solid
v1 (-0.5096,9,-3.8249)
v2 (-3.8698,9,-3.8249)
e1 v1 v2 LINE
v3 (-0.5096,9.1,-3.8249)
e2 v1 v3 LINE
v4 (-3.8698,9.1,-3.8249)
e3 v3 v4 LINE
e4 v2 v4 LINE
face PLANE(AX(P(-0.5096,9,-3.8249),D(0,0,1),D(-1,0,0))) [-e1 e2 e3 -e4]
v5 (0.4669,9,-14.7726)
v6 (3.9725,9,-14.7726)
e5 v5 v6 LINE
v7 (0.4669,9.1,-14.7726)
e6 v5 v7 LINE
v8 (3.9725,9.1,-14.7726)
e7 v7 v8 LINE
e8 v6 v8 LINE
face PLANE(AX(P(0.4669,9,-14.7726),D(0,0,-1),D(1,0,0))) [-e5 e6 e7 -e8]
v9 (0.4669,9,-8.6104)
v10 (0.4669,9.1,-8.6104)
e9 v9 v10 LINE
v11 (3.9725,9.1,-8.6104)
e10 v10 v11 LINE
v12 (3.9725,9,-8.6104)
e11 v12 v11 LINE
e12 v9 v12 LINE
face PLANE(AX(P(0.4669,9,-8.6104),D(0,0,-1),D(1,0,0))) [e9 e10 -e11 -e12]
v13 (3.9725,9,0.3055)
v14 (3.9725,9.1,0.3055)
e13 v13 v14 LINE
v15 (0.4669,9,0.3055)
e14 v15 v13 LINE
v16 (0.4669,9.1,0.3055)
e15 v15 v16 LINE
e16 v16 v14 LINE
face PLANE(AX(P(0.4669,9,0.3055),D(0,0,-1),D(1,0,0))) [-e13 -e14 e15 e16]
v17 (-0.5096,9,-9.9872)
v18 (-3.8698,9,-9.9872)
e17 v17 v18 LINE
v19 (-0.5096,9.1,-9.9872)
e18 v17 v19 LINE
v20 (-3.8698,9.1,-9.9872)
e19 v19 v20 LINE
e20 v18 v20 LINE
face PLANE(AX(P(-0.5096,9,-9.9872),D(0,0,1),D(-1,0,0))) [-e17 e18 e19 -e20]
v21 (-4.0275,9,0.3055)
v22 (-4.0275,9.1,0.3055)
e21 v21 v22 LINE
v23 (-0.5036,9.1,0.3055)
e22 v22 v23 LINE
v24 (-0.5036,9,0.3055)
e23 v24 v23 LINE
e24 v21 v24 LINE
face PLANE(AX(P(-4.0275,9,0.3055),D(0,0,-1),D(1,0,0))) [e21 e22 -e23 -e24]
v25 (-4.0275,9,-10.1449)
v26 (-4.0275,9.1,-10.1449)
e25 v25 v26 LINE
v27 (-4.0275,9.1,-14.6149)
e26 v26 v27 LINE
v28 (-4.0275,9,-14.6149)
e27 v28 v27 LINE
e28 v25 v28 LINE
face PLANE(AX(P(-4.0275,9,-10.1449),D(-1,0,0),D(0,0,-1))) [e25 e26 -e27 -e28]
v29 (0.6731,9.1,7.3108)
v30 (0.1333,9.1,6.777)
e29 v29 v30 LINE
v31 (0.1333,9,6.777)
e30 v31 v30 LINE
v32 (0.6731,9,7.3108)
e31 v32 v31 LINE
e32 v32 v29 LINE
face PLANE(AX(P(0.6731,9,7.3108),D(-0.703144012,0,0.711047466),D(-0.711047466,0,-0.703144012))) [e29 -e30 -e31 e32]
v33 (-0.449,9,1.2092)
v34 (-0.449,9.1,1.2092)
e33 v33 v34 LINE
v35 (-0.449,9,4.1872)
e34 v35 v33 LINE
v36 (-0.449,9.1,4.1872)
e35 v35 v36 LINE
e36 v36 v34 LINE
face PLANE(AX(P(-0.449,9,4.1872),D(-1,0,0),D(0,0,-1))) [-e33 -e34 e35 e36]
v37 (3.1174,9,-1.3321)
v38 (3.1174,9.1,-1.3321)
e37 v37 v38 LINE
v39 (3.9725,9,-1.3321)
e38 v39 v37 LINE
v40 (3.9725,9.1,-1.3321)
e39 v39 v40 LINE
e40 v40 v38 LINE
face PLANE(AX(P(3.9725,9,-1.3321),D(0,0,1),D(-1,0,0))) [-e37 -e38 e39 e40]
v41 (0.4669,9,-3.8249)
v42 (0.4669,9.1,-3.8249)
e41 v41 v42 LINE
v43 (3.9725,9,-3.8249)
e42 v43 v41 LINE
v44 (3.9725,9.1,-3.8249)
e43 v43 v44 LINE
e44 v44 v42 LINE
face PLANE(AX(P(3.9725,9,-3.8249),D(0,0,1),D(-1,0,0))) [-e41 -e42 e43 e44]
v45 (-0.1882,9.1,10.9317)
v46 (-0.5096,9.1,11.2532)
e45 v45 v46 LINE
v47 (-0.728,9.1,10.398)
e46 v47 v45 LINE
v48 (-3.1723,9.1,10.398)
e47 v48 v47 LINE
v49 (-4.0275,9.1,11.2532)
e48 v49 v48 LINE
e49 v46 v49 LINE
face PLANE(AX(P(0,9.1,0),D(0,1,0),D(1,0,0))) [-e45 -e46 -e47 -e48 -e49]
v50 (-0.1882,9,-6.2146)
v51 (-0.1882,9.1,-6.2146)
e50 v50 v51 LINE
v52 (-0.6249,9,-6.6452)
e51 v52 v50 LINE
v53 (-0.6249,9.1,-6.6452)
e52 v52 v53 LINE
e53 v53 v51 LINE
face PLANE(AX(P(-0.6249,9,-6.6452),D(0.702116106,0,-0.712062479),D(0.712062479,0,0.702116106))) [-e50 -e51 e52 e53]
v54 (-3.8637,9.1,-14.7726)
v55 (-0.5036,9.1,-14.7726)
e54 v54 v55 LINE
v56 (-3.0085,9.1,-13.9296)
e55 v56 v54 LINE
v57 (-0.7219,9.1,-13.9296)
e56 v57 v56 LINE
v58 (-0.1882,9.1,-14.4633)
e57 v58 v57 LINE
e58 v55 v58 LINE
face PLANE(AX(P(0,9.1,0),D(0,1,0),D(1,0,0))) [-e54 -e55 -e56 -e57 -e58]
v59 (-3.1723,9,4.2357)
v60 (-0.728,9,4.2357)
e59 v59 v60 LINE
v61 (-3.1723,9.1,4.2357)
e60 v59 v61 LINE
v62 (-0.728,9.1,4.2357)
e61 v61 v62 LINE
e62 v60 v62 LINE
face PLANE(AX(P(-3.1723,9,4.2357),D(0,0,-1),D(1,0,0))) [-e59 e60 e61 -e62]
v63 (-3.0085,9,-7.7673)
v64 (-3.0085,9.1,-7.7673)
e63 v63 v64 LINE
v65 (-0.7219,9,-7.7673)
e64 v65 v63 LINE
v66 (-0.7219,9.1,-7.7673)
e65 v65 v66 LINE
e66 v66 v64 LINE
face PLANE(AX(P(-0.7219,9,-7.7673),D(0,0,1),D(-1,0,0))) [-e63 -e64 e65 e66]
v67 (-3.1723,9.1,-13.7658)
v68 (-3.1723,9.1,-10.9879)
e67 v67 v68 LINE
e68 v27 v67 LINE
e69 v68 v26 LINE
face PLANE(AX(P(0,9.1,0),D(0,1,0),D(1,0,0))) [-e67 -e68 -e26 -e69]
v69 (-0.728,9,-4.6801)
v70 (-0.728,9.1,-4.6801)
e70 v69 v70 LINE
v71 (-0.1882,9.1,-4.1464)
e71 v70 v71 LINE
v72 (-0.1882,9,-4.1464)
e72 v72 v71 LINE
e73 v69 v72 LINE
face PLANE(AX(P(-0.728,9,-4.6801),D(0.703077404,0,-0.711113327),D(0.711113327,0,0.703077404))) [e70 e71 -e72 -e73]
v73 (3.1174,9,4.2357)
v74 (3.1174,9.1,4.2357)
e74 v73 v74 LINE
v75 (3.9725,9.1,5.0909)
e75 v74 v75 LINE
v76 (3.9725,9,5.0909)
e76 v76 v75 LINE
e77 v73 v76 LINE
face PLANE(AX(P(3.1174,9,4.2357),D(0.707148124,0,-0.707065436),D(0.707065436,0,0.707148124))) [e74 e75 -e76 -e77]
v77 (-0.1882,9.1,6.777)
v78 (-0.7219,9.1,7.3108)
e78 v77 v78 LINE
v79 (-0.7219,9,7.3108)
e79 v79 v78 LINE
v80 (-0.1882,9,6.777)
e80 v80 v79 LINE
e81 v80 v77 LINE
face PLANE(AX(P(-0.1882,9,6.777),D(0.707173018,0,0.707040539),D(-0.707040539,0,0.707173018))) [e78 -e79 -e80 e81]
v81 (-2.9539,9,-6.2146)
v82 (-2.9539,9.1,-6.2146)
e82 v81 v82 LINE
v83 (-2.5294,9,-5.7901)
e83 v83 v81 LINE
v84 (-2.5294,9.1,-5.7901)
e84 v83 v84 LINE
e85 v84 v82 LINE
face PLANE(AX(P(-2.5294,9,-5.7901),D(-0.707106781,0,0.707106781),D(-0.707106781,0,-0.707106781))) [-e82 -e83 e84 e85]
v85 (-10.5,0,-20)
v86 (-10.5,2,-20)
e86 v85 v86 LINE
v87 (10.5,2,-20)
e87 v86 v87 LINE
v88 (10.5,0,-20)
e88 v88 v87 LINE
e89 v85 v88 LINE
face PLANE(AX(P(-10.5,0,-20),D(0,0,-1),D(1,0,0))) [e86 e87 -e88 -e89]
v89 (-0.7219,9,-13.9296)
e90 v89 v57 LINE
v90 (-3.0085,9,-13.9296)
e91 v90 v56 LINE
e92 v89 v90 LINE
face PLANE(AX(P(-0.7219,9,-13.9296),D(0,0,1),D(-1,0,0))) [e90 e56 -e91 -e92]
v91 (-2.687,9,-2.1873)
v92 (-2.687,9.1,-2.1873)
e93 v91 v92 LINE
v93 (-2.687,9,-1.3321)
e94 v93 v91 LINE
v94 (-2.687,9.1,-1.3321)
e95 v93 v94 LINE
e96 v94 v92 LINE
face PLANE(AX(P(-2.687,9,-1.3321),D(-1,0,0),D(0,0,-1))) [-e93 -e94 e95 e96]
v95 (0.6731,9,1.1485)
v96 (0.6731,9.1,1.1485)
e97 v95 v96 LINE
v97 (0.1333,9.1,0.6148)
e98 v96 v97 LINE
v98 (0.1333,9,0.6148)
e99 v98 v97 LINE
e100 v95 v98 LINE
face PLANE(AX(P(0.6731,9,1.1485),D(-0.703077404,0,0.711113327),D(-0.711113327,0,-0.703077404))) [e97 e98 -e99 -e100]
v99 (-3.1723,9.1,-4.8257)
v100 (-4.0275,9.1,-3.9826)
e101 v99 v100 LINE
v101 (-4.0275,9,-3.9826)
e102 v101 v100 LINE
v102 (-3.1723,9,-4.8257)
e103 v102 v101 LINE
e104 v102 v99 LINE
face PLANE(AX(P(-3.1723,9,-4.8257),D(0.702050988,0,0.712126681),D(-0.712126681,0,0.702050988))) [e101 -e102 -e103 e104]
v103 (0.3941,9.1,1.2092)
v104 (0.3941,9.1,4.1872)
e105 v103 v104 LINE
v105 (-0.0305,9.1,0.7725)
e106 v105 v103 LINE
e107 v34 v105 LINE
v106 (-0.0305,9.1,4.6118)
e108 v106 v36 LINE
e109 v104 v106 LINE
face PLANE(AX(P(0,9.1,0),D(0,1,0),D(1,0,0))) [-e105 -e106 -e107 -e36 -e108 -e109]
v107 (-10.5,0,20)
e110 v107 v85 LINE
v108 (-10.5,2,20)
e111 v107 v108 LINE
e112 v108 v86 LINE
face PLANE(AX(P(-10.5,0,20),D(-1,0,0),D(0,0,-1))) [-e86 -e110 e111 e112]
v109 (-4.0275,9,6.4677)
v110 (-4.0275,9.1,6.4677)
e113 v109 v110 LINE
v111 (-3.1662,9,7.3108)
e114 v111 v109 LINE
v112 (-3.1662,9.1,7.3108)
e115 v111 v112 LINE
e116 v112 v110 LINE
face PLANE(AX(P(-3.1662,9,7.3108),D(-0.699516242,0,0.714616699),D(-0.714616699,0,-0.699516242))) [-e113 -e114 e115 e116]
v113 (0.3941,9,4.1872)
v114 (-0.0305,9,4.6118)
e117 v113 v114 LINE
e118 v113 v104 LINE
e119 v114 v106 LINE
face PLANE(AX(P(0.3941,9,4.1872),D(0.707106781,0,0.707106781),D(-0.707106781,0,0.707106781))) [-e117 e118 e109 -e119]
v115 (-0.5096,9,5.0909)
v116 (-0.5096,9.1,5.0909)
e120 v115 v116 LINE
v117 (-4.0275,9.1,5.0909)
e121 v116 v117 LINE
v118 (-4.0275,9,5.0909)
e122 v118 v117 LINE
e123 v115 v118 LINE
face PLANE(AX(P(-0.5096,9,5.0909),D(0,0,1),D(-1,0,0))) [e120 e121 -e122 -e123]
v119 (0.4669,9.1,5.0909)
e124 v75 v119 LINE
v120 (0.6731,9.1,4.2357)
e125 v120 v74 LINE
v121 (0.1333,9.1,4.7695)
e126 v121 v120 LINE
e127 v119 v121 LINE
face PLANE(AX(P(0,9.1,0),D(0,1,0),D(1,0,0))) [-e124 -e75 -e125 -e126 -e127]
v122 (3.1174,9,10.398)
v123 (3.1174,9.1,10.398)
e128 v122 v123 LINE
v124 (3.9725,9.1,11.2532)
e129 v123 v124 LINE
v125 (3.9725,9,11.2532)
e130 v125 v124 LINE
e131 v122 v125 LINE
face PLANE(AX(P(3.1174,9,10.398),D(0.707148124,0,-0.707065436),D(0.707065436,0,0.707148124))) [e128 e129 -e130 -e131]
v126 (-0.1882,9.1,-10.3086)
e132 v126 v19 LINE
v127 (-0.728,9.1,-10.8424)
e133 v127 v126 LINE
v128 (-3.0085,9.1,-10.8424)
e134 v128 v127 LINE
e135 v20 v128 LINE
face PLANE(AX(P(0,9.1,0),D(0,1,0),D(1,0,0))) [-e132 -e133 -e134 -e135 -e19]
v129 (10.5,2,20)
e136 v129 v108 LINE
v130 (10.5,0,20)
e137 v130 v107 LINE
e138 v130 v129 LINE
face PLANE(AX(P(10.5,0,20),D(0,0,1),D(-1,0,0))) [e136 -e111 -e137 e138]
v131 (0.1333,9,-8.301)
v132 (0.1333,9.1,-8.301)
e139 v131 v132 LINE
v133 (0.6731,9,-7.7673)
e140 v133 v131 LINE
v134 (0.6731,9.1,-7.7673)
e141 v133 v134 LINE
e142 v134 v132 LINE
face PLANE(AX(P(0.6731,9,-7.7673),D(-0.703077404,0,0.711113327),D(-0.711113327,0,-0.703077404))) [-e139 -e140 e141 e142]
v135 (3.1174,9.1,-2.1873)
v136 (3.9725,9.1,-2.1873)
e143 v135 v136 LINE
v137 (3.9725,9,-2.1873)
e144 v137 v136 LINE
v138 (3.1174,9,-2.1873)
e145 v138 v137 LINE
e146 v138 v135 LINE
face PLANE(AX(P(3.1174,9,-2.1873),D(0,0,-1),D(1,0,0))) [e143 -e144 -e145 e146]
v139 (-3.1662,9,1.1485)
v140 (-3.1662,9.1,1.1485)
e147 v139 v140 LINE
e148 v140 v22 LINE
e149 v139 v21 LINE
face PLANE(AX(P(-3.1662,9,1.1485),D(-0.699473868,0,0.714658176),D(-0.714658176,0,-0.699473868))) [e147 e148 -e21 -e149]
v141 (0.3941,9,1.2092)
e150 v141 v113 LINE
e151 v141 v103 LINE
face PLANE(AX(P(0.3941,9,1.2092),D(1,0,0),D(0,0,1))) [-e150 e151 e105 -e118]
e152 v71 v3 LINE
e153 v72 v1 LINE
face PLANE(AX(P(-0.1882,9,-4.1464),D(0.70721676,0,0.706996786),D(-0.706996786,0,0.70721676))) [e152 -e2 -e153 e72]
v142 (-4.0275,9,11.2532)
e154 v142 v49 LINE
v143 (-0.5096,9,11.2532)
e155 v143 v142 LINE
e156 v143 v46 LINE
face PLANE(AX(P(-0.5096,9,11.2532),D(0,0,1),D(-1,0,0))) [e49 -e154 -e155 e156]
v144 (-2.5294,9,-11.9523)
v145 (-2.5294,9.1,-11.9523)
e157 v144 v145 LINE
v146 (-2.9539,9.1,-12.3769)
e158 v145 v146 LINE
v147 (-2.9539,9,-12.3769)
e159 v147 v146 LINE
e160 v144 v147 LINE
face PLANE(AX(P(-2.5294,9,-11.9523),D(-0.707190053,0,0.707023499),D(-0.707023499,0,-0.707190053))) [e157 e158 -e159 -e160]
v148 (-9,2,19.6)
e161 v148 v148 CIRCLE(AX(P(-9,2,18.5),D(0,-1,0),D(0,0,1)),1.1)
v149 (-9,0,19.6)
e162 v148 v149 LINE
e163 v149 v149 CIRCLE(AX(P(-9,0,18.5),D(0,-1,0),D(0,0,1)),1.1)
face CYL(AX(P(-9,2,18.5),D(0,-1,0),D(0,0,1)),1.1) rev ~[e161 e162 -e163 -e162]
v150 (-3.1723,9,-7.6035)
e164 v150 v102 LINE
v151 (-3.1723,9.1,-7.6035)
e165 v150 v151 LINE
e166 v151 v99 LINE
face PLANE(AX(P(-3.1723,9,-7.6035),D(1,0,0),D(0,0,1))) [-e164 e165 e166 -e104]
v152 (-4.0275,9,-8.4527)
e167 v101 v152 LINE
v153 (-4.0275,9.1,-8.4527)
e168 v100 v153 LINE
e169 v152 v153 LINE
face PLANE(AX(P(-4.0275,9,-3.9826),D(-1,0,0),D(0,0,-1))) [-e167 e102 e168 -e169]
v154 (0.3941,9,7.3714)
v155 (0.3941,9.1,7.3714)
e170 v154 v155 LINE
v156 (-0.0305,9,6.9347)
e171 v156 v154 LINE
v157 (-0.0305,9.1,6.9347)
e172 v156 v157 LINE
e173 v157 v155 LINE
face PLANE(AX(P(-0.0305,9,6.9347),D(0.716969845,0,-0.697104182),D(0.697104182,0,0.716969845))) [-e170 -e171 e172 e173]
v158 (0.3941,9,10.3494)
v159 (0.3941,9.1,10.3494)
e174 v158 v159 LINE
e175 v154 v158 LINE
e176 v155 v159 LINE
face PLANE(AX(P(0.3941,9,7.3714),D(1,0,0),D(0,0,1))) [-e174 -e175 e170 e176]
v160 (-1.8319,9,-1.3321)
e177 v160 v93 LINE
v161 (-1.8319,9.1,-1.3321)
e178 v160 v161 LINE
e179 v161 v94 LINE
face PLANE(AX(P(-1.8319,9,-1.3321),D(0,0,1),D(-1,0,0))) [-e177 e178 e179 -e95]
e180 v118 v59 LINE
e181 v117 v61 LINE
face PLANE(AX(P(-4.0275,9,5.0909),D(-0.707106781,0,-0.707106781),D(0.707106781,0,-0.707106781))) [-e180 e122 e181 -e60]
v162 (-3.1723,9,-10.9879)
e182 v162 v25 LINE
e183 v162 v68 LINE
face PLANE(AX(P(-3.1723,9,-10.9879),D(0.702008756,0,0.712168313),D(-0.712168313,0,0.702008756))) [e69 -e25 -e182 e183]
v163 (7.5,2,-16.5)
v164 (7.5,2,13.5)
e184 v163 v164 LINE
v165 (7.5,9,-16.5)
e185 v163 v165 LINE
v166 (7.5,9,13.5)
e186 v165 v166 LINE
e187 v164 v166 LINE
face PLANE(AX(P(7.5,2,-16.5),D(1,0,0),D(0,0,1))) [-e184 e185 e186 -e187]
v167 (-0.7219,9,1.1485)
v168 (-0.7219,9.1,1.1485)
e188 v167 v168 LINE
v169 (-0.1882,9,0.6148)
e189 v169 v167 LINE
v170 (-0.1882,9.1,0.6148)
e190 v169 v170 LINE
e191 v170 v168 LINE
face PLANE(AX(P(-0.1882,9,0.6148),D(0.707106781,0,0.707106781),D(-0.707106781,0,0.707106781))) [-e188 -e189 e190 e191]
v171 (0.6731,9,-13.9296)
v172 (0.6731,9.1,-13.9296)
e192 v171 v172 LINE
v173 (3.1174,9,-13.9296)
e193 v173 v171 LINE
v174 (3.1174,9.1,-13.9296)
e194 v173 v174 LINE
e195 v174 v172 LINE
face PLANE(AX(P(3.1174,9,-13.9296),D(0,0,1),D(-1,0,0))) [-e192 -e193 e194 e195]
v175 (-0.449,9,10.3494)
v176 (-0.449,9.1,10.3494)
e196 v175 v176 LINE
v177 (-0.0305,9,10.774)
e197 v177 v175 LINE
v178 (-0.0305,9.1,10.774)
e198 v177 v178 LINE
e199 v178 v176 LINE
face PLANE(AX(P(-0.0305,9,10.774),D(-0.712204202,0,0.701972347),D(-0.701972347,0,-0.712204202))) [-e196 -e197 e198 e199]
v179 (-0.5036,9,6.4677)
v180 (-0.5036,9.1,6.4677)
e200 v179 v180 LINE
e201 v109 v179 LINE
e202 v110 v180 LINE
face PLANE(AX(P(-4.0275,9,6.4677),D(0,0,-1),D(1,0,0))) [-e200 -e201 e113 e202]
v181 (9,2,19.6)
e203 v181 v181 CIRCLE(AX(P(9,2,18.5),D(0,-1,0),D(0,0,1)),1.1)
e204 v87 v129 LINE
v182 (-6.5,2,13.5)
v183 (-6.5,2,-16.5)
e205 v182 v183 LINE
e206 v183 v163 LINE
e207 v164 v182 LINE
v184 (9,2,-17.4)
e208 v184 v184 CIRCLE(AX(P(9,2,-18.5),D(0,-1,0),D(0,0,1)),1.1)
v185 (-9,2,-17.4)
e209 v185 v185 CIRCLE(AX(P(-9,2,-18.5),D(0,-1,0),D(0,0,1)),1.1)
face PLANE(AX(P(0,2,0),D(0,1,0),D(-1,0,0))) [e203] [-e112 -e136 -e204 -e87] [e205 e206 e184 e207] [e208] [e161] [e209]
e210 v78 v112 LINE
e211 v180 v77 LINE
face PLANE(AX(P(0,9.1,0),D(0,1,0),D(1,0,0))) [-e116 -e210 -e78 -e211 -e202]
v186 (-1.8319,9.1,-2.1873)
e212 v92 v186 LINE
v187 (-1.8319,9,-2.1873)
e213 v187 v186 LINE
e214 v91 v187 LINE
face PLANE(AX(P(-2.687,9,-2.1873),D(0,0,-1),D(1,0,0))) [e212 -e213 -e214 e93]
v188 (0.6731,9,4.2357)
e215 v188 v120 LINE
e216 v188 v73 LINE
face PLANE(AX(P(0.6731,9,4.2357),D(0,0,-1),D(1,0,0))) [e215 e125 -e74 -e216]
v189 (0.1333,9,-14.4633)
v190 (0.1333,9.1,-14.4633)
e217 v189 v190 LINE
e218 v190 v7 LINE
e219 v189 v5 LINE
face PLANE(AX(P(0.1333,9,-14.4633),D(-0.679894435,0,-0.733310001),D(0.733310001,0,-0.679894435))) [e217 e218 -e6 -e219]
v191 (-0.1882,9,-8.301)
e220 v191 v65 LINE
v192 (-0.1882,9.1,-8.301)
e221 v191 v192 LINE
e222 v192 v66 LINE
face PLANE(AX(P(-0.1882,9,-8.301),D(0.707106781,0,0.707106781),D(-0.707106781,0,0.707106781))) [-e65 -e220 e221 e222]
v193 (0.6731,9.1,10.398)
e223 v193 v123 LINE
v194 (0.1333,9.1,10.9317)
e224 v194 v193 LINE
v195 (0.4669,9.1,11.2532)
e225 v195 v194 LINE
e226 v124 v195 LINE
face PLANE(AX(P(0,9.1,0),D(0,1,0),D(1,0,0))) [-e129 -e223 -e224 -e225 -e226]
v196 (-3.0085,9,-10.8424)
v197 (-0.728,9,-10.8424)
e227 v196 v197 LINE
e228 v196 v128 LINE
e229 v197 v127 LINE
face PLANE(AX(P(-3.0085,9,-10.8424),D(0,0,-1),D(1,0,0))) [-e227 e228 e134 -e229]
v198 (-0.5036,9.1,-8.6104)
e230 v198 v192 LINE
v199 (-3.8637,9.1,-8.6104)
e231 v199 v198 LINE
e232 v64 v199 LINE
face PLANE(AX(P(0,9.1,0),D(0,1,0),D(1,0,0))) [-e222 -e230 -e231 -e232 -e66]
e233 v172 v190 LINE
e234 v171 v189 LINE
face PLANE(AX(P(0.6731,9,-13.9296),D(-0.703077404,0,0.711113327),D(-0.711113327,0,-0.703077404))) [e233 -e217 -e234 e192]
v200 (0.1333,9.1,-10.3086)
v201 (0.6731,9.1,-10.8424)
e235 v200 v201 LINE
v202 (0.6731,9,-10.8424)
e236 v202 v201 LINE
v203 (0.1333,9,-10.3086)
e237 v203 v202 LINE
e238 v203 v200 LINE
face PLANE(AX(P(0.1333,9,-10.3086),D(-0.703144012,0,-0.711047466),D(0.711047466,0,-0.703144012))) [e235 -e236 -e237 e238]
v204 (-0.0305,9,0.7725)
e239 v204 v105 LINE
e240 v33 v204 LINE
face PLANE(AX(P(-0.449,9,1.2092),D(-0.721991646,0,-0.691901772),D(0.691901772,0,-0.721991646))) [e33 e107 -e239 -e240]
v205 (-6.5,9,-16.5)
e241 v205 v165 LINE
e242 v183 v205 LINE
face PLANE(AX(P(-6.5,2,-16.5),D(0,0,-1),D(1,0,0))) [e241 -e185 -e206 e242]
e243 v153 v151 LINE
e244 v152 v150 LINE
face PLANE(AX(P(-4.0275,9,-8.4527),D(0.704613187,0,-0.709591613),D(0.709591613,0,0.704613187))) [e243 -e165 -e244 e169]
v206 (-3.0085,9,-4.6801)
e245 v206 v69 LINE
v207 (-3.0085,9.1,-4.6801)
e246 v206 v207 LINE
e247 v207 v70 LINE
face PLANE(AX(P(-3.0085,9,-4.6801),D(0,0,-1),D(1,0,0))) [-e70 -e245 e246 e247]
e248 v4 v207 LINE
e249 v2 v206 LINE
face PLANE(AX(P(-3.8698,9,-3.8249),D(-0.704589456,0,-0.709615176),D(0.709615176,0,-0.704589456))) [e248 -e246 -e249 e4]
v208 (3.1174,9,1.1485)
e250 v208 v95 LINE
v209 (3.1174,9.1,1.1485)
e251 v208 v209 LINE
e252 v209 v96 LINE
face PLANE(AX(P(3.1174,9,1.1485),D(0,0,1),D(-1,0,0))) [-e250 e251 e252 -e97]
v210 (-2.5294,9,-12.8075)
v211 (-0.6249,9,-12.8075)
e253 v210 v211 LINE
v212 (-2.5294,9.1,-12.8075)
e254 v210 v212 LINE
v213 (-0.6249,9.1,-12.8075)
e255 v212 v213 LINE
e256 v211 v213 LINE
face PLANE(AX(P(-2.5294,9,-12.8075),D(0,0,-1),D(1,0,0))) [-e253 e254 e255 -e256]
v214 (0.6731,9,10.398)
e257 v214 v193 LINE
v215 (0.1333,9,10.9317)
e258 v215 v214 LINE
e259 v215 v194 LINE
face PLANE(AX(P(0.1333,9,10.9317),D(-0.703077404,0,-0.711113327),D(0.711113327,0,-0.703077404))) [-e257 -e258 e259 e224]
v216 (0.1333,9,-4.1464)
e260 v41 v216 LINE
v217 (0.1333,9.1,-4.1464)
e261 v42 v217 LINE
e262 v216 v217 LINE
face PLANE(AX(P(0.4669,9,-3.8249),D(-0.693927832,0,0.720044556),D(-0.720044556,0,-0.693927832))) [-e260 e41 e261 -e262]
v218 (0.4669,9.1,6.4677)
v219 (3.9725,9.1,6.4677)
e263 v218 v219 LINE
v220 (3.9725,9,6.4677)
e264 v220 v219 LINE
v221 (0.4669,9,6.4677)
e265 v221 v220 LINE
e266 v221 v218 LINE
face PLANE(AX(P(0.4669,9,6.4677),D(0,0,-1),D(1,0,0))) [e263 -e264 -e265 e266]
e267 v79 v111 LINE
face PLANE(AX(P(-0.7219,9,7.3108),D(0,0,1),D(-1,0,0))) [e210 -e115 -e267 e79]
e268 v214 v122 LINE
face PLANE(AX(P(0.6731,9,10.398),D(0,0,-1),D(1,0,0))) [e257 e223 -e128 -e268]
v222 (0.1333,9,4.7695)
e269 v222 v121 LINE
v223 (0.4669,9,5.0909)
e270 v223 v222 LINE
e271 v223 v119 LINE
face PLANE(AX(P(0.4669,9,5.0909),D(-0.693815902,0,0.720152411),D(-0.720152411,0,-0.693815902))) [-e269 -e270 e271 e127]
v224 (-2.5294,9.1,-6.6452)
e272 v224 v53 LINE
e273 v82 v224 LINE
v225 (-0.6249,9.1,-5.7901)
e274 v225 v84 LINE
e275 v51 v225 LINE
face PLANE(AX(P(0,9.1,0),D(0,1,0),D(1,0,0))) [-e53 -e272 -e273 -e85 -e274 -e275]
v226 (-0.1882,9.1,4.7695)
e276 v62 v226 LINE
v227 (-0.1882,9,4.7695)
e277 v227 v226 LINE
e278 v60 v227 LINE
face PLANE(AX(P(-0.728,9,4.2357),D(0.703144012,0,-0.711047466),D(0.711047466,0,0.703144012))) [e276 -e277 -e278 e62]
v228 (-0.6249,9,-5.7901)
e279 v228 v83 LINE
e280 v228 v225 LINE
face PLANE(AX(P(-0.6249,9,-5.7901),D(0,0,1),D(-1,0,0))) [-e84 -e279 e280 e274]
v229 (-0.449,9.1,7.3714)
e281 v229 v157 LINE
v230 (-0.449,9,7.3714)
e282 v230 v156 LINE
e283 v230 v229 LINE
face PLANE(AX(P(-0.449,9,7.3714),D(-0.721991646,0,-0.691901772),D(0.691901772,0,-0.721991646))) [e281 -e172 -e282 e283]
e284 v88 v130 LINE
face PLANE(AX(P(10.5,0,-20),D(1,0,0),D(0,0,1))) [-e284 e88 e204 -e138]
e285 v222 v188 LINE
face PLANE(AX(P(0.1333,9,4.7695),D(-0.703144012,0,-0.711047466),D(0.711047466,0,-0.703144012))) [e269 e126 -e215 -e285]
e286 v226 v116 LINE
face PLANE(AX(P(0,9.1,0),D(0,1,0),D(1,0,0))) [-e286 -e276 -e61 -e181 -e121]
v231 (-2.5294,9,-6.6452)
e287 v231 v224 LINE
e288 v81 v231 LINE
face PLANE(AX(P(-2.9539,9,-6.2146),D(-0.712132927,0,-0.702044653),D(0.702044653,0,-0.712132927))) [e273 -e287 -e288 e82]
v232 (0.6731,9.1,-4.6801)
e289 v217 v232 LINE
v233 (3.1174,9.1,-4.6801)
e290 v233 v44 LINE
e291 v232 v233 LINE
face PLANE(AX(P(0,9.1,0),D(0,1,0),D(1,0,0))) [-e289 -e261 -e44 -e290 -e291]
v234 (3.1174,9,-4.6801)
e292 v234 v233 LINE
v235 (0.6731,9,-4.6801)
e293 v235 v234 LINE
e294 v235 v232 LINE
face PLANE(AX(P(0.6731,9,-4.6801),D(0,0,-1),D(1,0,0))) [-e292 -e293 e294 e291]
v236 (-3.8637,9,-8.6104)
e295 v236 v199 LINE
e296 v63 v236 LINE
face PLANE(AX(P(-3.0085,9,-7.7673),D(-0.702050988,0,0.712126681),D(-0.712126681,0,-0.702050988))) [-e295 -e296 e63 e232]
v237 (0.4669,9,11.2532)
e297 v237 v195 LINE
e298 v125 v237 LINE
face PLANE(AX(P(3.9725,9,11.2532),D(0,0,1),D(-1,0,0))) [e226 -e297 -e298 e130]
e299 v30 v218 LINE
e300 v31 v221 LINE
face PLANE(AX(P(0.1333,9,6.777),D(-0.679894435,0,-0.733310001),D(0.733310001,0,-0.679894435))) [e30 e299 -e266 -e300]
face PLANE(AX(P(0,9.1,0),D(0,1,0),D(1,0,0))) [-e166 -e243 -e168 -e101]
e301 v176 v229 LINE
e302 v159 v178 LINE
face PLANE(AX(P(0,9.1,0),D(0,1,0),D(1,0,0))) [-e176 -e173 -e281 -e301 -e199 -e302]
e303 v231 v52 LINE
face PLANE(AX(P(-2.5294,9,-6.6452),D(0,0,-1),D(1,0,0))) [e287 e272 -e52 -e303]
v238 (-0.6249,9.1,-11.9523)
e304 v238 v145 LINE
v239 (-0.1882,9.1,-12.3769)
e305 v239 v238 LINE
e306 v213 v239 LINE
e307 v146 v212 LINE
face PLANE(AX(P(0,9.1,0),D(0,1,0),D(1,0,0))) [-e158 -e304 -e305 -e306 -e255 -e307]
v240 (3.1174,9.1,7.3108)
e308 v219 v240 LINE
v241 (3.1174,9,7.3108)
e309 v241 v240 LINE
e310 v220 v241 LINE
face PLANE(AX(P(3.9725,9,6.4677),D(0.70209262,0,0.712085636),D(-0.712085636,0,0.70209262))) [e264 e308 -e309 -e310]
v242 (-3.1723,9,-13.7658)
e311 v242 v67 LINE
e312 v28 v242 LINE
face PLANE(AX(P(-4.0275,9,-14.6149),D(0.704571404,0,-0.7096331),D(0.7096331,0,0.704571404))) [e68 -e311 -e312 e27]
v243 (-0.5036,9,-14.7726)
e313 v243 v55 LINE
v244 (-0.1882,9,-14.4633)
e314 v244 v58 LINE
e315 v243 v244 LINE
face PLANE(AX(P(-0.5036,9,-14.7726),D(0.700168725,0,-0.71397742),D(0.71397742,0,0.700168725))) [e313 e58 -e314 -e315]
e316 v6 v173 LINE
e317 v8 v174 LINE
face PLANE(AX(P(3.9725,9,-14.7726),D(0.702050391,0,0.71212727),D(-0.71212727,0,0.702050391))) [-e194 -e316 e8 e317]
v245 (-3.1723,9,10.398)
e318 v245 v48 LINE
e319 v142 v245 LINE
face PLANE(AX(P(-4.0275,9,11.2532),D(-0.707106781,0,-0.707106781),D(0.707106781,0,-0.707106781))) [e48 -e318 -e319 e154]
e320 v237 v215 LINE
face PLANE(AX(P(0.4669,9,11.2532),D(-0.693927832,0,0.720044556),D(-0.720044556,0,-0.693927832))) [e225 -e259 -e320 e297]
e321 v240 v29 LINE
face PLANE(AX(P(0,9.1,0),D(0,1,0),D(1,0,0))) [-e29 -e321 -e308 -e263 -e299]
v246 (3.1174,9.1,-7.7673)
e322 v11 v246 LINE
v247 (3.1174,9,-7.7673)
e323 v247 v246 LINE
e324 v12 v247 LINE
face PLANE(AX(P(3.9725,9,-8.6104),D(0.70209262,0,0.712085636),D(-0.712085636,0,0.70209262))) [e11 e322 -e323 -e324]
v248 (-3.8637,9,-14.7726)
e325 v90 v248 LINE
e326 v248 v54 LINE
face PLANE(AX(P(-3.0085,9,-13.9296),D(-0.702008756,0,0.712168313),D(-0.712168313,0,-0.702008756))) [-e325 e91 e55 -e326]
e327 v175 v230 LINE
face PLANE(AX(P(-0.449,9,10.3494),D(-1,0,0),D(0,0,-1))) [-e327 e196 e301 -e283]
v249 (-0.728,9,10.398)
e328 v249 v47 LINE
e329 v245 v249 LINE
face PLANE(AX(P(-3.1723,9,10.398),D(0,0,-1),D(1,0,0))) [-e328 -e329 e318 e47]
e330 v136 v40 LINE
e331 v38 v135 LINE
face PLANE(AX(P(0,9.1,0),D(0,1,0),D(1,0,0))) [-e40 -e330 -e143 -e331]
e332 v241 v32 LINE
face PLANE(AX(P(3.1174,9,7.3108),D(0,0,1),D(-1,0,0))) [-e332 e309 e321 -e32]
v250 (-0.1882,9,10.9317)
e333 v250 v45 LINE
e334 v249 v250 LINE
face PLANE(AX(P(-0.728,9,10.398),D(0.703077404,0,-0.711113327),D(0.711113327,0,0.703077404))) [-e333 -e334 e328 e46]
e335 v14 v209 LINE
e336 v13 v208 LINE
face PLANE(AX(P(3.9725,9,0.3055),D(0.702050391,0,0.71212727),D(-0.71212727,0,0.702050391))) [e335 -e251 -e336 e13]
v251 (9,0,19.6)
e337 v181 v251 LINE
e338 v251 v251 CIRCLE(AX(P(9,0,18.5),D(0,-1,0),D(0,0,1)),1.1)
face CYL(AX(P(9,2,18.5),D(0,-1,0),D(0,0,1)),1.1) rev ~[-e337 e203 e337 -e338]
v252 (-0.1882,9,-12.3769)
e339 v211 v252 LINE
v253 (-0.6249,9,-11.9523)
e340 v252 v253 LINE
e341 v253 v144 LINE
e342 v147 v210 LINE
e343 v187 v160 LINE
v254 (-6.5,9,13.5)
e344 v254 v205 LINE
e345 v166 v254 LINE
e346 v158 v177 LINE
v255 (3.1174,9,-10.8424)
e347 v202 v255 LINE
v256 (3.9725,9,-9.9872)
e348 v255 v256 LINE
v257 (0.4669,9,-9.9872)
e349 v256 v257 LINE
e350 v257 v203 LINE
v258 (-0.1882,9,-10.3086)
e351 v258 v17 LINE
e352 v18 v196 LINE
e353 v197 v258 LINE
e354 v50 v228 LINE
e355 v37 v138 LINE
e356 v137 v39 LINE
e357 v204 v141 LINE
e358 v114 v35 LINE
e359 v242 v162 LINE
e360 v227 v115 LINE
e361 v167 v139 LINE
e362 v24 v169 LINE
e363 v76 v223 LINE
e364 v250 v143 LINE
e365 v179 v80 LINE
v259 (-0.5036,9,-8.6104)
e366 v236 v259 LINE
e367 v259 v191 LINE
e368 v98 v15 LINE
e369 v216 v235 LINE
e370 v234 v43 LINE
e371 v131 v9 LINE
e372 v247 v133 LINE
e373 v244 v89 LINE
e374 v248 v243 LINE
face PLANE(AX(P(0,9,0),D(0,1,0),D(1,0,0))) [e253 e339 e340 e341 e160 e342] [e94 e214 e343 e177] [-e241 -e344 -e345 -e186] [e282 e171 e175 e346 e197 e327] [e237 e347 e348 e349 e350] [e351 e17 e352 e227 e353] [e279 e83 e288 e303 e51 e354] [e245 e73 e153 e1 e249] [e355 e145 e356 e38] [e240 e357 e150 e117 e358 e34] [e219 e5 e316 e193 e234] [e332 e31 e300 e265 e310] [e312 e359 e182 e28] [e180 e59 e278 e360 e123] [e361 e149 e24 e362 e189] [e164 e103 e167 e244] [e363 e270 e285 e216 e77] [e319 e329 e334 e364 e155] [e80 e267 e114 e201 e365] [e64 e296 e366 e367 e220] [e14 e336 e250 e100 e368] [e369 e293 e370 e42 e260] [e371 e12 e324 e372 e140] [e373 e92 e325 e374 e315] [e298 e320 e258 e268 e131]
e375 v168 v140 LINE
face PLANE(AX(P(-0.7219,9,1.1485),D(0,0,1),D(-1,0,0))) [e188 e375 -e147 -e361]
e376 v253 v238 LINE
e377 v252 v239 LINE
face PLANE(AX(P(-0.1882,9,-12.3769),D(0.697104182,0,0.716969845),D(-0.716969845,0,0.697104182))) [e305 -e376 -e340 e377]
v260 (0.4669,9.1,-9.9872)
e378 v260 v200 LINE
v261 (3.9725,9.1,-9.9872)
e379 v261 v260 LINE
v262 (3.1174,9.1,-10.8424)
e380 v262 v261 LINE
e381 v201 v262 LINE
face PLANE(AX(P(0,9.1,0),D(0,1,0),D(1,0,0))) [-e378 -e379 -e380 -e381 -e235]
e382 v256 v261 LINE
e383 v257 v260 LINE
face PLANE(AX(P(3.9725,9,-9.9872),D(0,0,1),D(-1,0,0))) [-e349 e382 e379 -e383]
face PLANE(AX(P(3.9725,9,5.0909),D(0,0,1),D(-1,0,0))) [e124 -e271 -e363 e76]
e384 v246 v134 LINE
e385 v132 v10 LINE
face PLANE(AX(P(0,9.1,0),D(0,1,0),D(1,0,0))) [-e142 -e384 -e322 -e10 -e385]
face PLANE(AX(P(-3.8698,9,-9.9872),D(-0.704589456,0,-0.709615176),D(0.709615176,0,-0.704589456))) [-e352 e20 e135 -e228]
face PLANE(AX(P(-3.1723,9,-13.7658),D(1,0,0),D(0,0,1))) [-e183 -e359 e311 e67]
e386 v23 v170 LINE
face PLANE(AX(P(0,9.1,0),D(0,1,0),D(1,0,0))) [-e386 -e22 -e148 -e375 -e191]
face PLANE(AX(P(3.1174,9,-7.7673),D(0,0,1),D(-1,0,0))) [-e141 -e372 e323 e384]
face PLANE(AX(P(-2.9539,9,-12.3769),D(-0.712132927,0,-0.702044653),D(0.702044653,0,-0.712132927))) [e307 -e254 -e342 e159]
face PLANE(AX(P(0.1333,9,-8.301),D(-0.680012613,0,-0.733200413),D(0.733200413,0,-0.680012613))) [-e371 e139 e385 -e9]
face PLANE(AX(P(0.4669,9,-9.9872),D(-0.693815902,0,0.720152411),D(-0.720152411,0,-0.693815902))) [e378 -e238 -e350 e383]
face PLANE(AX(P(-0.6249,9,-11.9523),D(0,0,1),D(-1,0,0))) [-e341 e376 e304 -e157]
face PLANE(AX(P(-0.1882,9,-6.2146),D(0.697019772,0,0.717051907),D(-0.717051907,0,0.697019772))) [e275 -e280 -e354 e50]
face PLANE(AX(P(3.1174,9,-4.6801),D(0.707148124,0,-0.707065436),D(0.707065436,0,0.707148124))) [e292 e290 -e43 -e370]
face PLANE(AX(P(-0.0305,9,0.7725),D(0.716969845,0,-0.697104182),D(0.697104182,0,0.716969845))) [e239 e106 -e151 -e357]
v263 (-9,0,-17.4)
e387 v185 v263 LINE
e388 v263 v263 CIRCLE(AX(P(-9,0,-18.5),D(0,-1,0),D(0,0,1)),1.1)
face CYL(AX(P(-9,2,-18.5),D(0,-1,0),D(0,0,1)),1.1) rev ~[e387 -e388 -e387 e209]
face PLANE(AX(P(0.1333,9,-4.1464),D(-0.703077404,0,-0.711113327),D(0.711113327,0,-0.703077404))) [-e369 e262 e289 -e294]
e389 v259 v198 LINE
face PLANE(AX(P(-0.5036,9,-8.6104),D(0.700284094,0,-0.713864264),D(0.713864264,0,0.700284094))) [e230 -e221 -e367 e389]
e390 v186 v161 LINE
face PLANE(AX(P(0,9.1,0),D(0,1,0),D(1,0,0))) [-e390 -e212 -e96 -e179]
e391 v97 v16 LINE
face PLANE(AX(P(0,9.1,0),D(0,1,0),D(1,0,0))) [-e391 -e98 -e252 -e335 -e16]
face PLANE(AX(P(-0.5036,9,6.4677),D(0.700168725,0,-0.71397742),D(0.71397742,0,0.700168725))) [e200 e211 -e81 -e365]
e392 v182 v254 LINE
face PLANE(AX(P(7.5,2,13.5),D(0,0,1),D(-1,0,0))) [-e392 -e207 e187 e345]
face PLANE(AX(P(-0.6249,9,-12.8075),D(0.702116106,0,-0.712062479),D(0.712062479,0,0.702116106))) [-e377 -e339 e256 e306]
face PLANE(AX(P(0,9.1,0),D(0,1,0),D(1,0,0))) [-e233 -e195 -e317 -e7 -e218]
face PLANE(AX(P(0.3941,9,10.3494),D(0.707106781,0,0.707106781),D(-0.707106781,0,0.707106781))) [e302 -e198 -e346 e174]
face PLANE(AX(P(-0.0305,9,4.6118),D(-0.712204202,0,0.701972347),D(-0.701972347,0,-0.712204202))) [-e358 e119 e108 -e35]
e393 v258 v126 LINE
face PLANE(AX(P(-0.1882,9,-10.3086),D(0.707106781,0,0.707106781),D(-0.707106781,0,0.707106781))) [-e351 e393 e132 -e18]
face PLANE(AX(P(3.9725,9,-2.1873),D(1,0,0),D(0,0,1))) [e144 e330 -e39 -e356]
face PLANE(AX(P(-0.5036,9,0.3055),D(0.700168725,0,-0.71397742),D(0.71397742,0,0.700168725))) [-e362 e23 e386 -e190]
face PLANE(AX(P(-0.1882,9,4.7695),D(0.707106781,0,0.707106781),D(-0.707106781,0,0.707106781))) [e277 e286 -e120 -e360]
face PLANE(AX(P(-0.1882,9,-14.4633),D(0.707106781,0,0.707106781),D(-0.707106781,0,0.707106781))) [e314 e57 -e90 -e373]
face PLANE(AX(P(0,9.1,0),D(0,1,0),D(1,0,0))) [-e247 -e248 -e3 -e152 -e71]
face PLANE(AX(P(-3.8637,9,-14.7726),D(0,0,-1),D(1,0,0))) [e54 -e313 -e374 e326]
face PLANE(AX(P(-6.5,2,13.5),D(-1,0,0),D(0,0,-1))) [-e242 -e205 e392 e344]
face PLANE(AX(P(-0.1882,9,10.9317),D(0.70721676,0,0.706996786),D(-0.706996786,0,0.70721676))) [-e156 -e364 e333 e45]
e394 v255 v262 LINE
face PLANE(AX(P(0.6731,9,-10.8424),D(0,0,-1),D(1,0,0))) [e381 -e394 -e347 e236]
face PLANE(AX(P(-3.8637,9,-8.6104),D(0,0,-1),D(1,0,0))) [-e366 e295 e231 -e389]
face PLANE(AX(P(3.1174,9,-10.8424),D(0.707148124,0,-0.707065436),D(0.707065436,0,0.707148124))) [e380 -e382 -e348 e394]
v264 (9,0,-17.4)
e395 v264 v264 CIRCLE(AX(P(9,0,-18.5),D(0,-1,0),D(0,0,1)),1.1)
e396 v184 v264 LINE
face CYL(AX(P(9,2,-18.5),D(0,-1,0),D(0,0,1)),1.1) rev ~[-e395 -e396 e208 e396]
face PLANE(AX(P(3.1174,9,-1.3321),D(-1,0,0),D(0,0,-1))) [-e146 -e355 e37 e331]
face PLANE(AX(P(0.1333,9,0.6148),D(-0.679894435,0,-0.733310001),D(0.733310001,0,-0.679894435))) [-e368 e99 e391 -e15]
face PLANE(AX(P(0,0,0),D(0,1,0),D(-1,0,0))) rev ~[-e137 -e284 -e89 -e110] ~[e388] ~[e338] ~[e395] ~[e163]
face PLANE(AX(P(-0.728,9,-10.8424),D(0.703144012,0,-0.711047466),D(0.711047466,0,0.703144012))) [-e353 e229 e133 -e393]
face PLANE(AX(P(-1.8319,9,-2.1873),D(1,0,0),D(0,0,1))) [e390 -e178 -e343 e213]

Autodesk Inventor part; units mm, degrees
ref_plane "YZ Plane" through (0, 0, 0) normal (1, 0, 0) x (0, 1, 0)
ref_plane "XZ Plane" through (0, 0, 0) normal (0, 1, 0) x (-1, 0, 0)
ref_plane "XY Plane" through (0, 0, 0) normal (0, 0, 1) x (1, 0, 0)
sketch "Sketch1" plane through (0, 0, 0) normal (0, 1, 0) x (-1, 0, 0)
  line L0 (-10.5, 20) -> (10.5, 20)
  line L1 (10.5, 20) -> (10.5, -20)
  line L2 (10.5, -20) -> (-10.5, -20)
  line L3 (-10.5, -20) -> (-10.5, 20)
  line L4 (-10.5, 20) -> (10.5, -20) construction
  line L5 (10.5, 20) -> (-10.5, -20) construction
  point P0 (0, 0)
  dimension "d0" = 40
  dimension "d1" = 21
extrude "Extrusion1" add sketch "Sketch1" along normal blind 2
sketch "Sketch2" plane through (0, 2, 0) normal (0, 1, 0) x (1, 0, 0)
  line L0 (-10.5, 20) -> (-10.5, -20) projected
  line L1 (-10.5, -20) -> (10.5, -20) projected
  line L2 (10.5, -20) -> (10.5, 20) projected
  line L3 (10.5, 20) -> (-10.5, 20) projected
  point P0 (0, 0)
  point P1 (-9, -18.5)
  point P2 (-9, 18.5)
  point P3 (9, 18.5)
  point P4 (9, -18.5)
  dimension "d4" = 1.5
  dimension "d5" = 1.5
  dimension "d6" = 1.5
  dimension "d7" = 1.5
  dimension "d20" = 18
  dimension "d21" = 18
  dimension "d22" = 37
hole "Hole1" at (-9, 2, 18.5) at (-9, 2, -18.5) at (9, 2, -18.5) at (9, 2, 18.5) direction (0, -1, 0) diameter 2.2 end through all
sketch "Sketch3" plane through (0, 2, 0) normal (0, 1, 0) x (1, 0, 0)
  line L0 (7.5, -13.5) -> (-6.5, -13.5)
  line L1 (-6.5, -13.5) -> (-6.5, 16.5)
  line L2 (-6.5, 16.5) -> (7.5, 16.5)
  line L3 (7.5, 16.5) -> (7.5, -13.5)
  line L4 (7.5, -13.5) -> (-6.5, 16.5) construction
  line L5 (-6.5, -13.5) -> (7.5, 16.5) construction
  line L6 (-10.5, -20) -> (10.5, -20) projected
  line L7 (-10.5, 20) -> (-10.5, -20) projected
  line L8 (10.5, 20) -> (-10.5, 20) projected
  point P0 (0, 0)
  point P1 (0.5, 1.5)
  point P2 (0, -20)
  dimension "d15" = 6.5
  dimension "d16" = 30
  dimension "d17" = 14
  dimension "d18" = 4
  dimension "d19" = 3.5
extrude "Extrusion2" add sketch "Sketch3" along normal blind 7
sketch "Sketch4" plane through (0, 9, 0) normal (0, 1, 0) x (1, 0, 0)
  line L0 (-6.5, -13.5) -> (7.5, -13.5) projected
  line L1 (10.5, -20) -> (10.5, 20) projected
  line L2 (-6.5, 16.5) -> (-6.5, -13.5) projected
  line L3 (-0.449, -7.3714) -> (-0.0305, -6.9347)
  line L4 (-0.0305, -6.9347) -> (0.3941, -7.3714)
  line L5 (0.3941, -7.3714) -> (0.3941, -10.3494)
  line L6 (0.3941, -10.3494) -> (-0.0305, -10.774)
  line L7 (-0.0305, -10.774) -> (-0.449, -10.3494)
  line L8 (-0.449, -10.3494) -> (-0.449, -7.3714)
  line L9 (-0.5096, -11.2532) -> (-4.0275, -11.2532)
  line L10 (-4.0275, -11.2532) -> (-3.1723, -10.398)
  line L11 (-3.1723, -10.398) -> (-0.728, -10.398)
  line L12 (-0.728, -10.398) -> (-0.1882, -10.9317)
  line L13 (-0.1882, -10.9317) -> (-0.5096, -11.2532)
  line L14 (0.6731, -10.398) -> (3.1174, -10.398)
  line L15 (3.1174, -10.398) -> (3.9725, -11.2532)
  line L16 (3.9725, -11.2532) -> (0.4669, -11.2532)
  line L17 (0.4669, -11.2532) -> (0.1333, -10.9317)
  line L18 (0.1333, -10.9317) -> (0.6731, -10.398)
  line L19 (-0.7219, -7.3108) -> (-3.1662, -7.3108)
  line L20 (-3.1662, -7.3108) -> (-4.0275, -6.4677)
  line L21 (-4.0275, -6.4677) -> (-0.5036, -6.4677)
  line L22 (-0.5036, -6.4677) -> (-0.1882, -6.777)
  line L23 (-0.1882, -6.777) -> (-0.7219, -7.3108)
  line L24 (0.4669, -6.4677) -> (3.9725, -6.4677)
  line L25 (3.9725, -6.4677) -> (3.1174, -7.3108)
  line L26 (3.1174, -7.3108) -> (0.6731, -7.3108)
  line L27 (0.6731, -7.3108) -> (0.1333, -6.777)
  line L28 (0.1333, -6.777) -> (0.4669, -6.4677)
  line L29 (-0.449, -1.2092) -> (-0.0305, -0.7725)
  line L30 (-0.0305, -0.7725) -> (0.3941, -1.2092)
  line L31 (0.3941, -1.2092) -> (0.3941, -4.1872)
  line L32 (0.3941, -4.1872) -> (-0.0305, -4.6118)
  line L33 (-0.0305, -4.6118) -> (-0.449, -4.1872)
  line L34 (-0.449, -4.1872) -> (-0.449, -1.2092)
  line L35 (-0.5096, -5.0909) -> (-4.0275, -5.0909)
  line L36 (-4.0275, -5.0909) -> (-3.1723, -4.2357)
  line L37 (-3.1723, -4.2357) -> (-0.728, -4.2357)
  line L38 (-0.728, -4.2357) -> (-0.1882, -4.7695)
  line L39 (-0.1882, -4.7695) -> (-0.5096, -5.0909)
  line L40 (0.6731, -4.2357) -> (3.1174, -4.2357)
  line L41 (3.1174, -4.2357) -> (3.9725, -5.0909)
  line L42 (3.9725, -5.0909) -> (0.4669, -5.0909)
  line L43 (0.4669, -5.0909) -> (0.1333, -4.7695)
  line L44 (0.1333, -4.7695) -> (0.6731, -4.2357)
  line L45 (-0.7219, -1.1485) -> (-3.1662, -1.1485)
  line L46 (-3.1662, -1.1485) -> (-4.0275, -0.3055)
  line L47 (-4.0275, -0.3055) -> (-0.5036, -0.3055)
  line L48 (-0.5036, -0.3055) -> (-0.1882, -0.6148)
  line L49 (-0.1882, -0.6148) -> (-0.7219, -1.1485)
  line L50 (0.4669, -0.3055) -> (3.9725, -0.3055)
  line L51 (3.9725, -0.3055) -> (3.1174, -1.1485)
  line L52 (3.1174, -1.1485) -> (0.6731, -1.1485)
  line L53 (0.6731, -1.1485) -> (0.1333, -0.6148)
  line L54 (0.1333, -0.6148) -> (0.4669, -0.3055)
  line L55 (-1.8319, 1.3321) -> (-2.687, 1.3321)
  line L56 (-2.687, 1.3321) -> (-2.687, 2.1873)
  line L57 (-2.687, 2.1873) -> (-1.8319, 2.1873)
  line L58 (-1.8319, 2.1873) -> (-1.8319, 1.3321)
  line L59 (3.9725, 1.3321) -> (3.1174, 1.3321)
  line L60 (3.1174, 1.3321) -> (3.1174, 2.1873)
  line L61 (3.1174, 2.1873) -> (3.9725, 2.1873)
  line L62 (3.9725, 2.1873) -> (3.9725, 1.3321)
  line L63 (-4.0275, 8.4527) -> (-3.1723, 7.6035)
  line L64 (-3.1723, 7.6035) -> (-3.1723, 4.8257)
  line L65 (-3.1723, 4.8257) -> (-4.0275, 3.9826)
  line L66 (-4.0275, 3.9826) -> (-4.0275, 8.4527)
  line L67 (0.6731, 4.6801) -> (3.1174, 4.6801)
  line L68 (3.1174, 4.6801) -> (3.9725, 3.8249)
  line L69 (3.9725, 3.8249) -> (0.4669, 3.8249)
  line L70 (0.4669, 3.8249) -> (0.1333, 4.1464)
  line L71 (0.1333, 4.1464) -> (0.6731, 4.6801)
  line L72 (0.4669, 8.6104) -> (3.9725, 8.6104)
  line L73 (3.9725, 8.6104) -> (3.1174, 7.7673)
  line L74 (3.1174, 7.7673) -> (0.6731, 7.7673)
  line L75 (0.6731, 7.7673) -> (0.1333, 8.301)
  line L76 (0.1333, 8.301) -> (0.4669, 8.6104)
  line L77 (-0.5096, 3.8249) -> (-3.8698, 3.8249)
  line L78 (-3.8698, 3.8249) -> (-3.0085, 4.6801)
  line L79 (-3.0085, 4.6801) -> (-0.728, 4.6801)
  line L80 (-0.728, 4.6801) -> (-0.1882, 4.1464)
  line L81 (-0.1882, 4.1464) -> (-0.5096, 3.8249)
  line L82 (-0.7219, 7.7673) -> (-3.0085, 7.7673)
  line L83 (-3.0085, 7.7673) -> (-3.8637, 8.6104)
  line L84 (-3.8637, 8.6104) -> (-0.5036, 8.6104)
  line L85 (-0.5036, 8.6104) -> (-0.1882, 8.301)
  line L86 (-0.1882, 8.301) -> (-0.7219, 7.7673)
  line L87 (-2.5294, 5.7901) -> (-2.9539, 6.2146)
  line L88 (-2.9539, 6.2146) -> (-2.5294, 6.6452)
  line L89 (-2.5294, 6.6452) -> (-0.6249, 6.6452)
  line L90 (-0.6249, 6.6452) -> (-0.1882, 6.2146)
  line L91 (-0.1882, 6.2146) -> (-0.6249, 5.7901)
  line L92 (-0.6249, 5.7901) -> (-2.5294, 5.7901)
  line L93 (-4.0275, 14.6149) -> (-3.1723, 13.7658)
  line L94 (-3.1723, 13.7658) -> (-3.1723, 10.9879)
  line L95 (-3.1723, 10.9879) -> (-4.0275, 10.1449)
  line L96 (-4.0275, 10.1449) -> (-4.0275, 14.6149)
  line L97 (0.6731, 10.8424) -> (3.1174, 10.8424)
  line L98 (3.1174, 10.8424) -> (3.9725, 9.9872)
  line L99 (3.9725, 9.9872) -> (0.4669, 9.9872)
  line L100 (0.4669, 9.9872) -> (0.1333, 10.3086)
  line L101 (0.1333, 10.3086) -> (0.6731, 10.8424)
  line L102 (0.4669, 14.7726) -> (3.9725, 14.7726)
  line L103 (3.9725, 14.7726) -> (3.1174, 13.9296)
  line L104 (3.1174, 13.9296) -> (0.6731, 13.9296)
  line L105 (0.6731, 13.9296) -> (0.1333, 14.4633)
  line L106 (0.1333, 14.4633) -> (0.4669, 14.7726)
  line L107 (-0.5096, 9.9872) -> (-3.8698, 9.9872)
  line L108 (-3.8698, 9.9872) -> (-3.0085, 10.8424)
  line L109 (-3.0085, 10.8424) -> (-0.728, 10.8424)
  line L110 (-0.728, 10.8424) -> (-0.1882, 10.3086)
  line L111 (-0.1882, 10.3086) -> (-0.5096, 9.9872)
  line L112 (-0.7219, 13.9296) -> (-3.0085, 13.9296)
  line L113 (-3.0085, 13.9296) -> (-3.8637, 14.7726)
  line L114 (-3.8637, 14.7726) -> (-0.5036, 14.7726)
  line L115 (-0.5036, 14.7726) -> (-0.1882, 14.4633)
  line L116 (-0.1882, 14.4633) -> (-0.7219, 13.9296)
  line L117 (-2.5294, 11.9523) -> (-2.9539, 12.3769)
  line L118 (-2.9539, 12.3769) -> (-2.5294, 12.8075)
  line L119 (-2.5294, 12.8075) -> (-0.6249, 12.8075)
  line L120 (-0.6249, 12.8075) -> (-0.1882, 12.3769)
  line L121 (-0.1882, 12.3769) -> (-0.6249, 11.9523)
  line L122 (-0.6249, 11.9523) -> (-2.5294, 11.9523)
  point P0 (0, 0)
  point P1 (-4.0275, -11.9385)
extrude "Extrusion3" add sketch "Sketch4" along normal blind 0.1
properties part number "7_Seg_Display_TM1637"
